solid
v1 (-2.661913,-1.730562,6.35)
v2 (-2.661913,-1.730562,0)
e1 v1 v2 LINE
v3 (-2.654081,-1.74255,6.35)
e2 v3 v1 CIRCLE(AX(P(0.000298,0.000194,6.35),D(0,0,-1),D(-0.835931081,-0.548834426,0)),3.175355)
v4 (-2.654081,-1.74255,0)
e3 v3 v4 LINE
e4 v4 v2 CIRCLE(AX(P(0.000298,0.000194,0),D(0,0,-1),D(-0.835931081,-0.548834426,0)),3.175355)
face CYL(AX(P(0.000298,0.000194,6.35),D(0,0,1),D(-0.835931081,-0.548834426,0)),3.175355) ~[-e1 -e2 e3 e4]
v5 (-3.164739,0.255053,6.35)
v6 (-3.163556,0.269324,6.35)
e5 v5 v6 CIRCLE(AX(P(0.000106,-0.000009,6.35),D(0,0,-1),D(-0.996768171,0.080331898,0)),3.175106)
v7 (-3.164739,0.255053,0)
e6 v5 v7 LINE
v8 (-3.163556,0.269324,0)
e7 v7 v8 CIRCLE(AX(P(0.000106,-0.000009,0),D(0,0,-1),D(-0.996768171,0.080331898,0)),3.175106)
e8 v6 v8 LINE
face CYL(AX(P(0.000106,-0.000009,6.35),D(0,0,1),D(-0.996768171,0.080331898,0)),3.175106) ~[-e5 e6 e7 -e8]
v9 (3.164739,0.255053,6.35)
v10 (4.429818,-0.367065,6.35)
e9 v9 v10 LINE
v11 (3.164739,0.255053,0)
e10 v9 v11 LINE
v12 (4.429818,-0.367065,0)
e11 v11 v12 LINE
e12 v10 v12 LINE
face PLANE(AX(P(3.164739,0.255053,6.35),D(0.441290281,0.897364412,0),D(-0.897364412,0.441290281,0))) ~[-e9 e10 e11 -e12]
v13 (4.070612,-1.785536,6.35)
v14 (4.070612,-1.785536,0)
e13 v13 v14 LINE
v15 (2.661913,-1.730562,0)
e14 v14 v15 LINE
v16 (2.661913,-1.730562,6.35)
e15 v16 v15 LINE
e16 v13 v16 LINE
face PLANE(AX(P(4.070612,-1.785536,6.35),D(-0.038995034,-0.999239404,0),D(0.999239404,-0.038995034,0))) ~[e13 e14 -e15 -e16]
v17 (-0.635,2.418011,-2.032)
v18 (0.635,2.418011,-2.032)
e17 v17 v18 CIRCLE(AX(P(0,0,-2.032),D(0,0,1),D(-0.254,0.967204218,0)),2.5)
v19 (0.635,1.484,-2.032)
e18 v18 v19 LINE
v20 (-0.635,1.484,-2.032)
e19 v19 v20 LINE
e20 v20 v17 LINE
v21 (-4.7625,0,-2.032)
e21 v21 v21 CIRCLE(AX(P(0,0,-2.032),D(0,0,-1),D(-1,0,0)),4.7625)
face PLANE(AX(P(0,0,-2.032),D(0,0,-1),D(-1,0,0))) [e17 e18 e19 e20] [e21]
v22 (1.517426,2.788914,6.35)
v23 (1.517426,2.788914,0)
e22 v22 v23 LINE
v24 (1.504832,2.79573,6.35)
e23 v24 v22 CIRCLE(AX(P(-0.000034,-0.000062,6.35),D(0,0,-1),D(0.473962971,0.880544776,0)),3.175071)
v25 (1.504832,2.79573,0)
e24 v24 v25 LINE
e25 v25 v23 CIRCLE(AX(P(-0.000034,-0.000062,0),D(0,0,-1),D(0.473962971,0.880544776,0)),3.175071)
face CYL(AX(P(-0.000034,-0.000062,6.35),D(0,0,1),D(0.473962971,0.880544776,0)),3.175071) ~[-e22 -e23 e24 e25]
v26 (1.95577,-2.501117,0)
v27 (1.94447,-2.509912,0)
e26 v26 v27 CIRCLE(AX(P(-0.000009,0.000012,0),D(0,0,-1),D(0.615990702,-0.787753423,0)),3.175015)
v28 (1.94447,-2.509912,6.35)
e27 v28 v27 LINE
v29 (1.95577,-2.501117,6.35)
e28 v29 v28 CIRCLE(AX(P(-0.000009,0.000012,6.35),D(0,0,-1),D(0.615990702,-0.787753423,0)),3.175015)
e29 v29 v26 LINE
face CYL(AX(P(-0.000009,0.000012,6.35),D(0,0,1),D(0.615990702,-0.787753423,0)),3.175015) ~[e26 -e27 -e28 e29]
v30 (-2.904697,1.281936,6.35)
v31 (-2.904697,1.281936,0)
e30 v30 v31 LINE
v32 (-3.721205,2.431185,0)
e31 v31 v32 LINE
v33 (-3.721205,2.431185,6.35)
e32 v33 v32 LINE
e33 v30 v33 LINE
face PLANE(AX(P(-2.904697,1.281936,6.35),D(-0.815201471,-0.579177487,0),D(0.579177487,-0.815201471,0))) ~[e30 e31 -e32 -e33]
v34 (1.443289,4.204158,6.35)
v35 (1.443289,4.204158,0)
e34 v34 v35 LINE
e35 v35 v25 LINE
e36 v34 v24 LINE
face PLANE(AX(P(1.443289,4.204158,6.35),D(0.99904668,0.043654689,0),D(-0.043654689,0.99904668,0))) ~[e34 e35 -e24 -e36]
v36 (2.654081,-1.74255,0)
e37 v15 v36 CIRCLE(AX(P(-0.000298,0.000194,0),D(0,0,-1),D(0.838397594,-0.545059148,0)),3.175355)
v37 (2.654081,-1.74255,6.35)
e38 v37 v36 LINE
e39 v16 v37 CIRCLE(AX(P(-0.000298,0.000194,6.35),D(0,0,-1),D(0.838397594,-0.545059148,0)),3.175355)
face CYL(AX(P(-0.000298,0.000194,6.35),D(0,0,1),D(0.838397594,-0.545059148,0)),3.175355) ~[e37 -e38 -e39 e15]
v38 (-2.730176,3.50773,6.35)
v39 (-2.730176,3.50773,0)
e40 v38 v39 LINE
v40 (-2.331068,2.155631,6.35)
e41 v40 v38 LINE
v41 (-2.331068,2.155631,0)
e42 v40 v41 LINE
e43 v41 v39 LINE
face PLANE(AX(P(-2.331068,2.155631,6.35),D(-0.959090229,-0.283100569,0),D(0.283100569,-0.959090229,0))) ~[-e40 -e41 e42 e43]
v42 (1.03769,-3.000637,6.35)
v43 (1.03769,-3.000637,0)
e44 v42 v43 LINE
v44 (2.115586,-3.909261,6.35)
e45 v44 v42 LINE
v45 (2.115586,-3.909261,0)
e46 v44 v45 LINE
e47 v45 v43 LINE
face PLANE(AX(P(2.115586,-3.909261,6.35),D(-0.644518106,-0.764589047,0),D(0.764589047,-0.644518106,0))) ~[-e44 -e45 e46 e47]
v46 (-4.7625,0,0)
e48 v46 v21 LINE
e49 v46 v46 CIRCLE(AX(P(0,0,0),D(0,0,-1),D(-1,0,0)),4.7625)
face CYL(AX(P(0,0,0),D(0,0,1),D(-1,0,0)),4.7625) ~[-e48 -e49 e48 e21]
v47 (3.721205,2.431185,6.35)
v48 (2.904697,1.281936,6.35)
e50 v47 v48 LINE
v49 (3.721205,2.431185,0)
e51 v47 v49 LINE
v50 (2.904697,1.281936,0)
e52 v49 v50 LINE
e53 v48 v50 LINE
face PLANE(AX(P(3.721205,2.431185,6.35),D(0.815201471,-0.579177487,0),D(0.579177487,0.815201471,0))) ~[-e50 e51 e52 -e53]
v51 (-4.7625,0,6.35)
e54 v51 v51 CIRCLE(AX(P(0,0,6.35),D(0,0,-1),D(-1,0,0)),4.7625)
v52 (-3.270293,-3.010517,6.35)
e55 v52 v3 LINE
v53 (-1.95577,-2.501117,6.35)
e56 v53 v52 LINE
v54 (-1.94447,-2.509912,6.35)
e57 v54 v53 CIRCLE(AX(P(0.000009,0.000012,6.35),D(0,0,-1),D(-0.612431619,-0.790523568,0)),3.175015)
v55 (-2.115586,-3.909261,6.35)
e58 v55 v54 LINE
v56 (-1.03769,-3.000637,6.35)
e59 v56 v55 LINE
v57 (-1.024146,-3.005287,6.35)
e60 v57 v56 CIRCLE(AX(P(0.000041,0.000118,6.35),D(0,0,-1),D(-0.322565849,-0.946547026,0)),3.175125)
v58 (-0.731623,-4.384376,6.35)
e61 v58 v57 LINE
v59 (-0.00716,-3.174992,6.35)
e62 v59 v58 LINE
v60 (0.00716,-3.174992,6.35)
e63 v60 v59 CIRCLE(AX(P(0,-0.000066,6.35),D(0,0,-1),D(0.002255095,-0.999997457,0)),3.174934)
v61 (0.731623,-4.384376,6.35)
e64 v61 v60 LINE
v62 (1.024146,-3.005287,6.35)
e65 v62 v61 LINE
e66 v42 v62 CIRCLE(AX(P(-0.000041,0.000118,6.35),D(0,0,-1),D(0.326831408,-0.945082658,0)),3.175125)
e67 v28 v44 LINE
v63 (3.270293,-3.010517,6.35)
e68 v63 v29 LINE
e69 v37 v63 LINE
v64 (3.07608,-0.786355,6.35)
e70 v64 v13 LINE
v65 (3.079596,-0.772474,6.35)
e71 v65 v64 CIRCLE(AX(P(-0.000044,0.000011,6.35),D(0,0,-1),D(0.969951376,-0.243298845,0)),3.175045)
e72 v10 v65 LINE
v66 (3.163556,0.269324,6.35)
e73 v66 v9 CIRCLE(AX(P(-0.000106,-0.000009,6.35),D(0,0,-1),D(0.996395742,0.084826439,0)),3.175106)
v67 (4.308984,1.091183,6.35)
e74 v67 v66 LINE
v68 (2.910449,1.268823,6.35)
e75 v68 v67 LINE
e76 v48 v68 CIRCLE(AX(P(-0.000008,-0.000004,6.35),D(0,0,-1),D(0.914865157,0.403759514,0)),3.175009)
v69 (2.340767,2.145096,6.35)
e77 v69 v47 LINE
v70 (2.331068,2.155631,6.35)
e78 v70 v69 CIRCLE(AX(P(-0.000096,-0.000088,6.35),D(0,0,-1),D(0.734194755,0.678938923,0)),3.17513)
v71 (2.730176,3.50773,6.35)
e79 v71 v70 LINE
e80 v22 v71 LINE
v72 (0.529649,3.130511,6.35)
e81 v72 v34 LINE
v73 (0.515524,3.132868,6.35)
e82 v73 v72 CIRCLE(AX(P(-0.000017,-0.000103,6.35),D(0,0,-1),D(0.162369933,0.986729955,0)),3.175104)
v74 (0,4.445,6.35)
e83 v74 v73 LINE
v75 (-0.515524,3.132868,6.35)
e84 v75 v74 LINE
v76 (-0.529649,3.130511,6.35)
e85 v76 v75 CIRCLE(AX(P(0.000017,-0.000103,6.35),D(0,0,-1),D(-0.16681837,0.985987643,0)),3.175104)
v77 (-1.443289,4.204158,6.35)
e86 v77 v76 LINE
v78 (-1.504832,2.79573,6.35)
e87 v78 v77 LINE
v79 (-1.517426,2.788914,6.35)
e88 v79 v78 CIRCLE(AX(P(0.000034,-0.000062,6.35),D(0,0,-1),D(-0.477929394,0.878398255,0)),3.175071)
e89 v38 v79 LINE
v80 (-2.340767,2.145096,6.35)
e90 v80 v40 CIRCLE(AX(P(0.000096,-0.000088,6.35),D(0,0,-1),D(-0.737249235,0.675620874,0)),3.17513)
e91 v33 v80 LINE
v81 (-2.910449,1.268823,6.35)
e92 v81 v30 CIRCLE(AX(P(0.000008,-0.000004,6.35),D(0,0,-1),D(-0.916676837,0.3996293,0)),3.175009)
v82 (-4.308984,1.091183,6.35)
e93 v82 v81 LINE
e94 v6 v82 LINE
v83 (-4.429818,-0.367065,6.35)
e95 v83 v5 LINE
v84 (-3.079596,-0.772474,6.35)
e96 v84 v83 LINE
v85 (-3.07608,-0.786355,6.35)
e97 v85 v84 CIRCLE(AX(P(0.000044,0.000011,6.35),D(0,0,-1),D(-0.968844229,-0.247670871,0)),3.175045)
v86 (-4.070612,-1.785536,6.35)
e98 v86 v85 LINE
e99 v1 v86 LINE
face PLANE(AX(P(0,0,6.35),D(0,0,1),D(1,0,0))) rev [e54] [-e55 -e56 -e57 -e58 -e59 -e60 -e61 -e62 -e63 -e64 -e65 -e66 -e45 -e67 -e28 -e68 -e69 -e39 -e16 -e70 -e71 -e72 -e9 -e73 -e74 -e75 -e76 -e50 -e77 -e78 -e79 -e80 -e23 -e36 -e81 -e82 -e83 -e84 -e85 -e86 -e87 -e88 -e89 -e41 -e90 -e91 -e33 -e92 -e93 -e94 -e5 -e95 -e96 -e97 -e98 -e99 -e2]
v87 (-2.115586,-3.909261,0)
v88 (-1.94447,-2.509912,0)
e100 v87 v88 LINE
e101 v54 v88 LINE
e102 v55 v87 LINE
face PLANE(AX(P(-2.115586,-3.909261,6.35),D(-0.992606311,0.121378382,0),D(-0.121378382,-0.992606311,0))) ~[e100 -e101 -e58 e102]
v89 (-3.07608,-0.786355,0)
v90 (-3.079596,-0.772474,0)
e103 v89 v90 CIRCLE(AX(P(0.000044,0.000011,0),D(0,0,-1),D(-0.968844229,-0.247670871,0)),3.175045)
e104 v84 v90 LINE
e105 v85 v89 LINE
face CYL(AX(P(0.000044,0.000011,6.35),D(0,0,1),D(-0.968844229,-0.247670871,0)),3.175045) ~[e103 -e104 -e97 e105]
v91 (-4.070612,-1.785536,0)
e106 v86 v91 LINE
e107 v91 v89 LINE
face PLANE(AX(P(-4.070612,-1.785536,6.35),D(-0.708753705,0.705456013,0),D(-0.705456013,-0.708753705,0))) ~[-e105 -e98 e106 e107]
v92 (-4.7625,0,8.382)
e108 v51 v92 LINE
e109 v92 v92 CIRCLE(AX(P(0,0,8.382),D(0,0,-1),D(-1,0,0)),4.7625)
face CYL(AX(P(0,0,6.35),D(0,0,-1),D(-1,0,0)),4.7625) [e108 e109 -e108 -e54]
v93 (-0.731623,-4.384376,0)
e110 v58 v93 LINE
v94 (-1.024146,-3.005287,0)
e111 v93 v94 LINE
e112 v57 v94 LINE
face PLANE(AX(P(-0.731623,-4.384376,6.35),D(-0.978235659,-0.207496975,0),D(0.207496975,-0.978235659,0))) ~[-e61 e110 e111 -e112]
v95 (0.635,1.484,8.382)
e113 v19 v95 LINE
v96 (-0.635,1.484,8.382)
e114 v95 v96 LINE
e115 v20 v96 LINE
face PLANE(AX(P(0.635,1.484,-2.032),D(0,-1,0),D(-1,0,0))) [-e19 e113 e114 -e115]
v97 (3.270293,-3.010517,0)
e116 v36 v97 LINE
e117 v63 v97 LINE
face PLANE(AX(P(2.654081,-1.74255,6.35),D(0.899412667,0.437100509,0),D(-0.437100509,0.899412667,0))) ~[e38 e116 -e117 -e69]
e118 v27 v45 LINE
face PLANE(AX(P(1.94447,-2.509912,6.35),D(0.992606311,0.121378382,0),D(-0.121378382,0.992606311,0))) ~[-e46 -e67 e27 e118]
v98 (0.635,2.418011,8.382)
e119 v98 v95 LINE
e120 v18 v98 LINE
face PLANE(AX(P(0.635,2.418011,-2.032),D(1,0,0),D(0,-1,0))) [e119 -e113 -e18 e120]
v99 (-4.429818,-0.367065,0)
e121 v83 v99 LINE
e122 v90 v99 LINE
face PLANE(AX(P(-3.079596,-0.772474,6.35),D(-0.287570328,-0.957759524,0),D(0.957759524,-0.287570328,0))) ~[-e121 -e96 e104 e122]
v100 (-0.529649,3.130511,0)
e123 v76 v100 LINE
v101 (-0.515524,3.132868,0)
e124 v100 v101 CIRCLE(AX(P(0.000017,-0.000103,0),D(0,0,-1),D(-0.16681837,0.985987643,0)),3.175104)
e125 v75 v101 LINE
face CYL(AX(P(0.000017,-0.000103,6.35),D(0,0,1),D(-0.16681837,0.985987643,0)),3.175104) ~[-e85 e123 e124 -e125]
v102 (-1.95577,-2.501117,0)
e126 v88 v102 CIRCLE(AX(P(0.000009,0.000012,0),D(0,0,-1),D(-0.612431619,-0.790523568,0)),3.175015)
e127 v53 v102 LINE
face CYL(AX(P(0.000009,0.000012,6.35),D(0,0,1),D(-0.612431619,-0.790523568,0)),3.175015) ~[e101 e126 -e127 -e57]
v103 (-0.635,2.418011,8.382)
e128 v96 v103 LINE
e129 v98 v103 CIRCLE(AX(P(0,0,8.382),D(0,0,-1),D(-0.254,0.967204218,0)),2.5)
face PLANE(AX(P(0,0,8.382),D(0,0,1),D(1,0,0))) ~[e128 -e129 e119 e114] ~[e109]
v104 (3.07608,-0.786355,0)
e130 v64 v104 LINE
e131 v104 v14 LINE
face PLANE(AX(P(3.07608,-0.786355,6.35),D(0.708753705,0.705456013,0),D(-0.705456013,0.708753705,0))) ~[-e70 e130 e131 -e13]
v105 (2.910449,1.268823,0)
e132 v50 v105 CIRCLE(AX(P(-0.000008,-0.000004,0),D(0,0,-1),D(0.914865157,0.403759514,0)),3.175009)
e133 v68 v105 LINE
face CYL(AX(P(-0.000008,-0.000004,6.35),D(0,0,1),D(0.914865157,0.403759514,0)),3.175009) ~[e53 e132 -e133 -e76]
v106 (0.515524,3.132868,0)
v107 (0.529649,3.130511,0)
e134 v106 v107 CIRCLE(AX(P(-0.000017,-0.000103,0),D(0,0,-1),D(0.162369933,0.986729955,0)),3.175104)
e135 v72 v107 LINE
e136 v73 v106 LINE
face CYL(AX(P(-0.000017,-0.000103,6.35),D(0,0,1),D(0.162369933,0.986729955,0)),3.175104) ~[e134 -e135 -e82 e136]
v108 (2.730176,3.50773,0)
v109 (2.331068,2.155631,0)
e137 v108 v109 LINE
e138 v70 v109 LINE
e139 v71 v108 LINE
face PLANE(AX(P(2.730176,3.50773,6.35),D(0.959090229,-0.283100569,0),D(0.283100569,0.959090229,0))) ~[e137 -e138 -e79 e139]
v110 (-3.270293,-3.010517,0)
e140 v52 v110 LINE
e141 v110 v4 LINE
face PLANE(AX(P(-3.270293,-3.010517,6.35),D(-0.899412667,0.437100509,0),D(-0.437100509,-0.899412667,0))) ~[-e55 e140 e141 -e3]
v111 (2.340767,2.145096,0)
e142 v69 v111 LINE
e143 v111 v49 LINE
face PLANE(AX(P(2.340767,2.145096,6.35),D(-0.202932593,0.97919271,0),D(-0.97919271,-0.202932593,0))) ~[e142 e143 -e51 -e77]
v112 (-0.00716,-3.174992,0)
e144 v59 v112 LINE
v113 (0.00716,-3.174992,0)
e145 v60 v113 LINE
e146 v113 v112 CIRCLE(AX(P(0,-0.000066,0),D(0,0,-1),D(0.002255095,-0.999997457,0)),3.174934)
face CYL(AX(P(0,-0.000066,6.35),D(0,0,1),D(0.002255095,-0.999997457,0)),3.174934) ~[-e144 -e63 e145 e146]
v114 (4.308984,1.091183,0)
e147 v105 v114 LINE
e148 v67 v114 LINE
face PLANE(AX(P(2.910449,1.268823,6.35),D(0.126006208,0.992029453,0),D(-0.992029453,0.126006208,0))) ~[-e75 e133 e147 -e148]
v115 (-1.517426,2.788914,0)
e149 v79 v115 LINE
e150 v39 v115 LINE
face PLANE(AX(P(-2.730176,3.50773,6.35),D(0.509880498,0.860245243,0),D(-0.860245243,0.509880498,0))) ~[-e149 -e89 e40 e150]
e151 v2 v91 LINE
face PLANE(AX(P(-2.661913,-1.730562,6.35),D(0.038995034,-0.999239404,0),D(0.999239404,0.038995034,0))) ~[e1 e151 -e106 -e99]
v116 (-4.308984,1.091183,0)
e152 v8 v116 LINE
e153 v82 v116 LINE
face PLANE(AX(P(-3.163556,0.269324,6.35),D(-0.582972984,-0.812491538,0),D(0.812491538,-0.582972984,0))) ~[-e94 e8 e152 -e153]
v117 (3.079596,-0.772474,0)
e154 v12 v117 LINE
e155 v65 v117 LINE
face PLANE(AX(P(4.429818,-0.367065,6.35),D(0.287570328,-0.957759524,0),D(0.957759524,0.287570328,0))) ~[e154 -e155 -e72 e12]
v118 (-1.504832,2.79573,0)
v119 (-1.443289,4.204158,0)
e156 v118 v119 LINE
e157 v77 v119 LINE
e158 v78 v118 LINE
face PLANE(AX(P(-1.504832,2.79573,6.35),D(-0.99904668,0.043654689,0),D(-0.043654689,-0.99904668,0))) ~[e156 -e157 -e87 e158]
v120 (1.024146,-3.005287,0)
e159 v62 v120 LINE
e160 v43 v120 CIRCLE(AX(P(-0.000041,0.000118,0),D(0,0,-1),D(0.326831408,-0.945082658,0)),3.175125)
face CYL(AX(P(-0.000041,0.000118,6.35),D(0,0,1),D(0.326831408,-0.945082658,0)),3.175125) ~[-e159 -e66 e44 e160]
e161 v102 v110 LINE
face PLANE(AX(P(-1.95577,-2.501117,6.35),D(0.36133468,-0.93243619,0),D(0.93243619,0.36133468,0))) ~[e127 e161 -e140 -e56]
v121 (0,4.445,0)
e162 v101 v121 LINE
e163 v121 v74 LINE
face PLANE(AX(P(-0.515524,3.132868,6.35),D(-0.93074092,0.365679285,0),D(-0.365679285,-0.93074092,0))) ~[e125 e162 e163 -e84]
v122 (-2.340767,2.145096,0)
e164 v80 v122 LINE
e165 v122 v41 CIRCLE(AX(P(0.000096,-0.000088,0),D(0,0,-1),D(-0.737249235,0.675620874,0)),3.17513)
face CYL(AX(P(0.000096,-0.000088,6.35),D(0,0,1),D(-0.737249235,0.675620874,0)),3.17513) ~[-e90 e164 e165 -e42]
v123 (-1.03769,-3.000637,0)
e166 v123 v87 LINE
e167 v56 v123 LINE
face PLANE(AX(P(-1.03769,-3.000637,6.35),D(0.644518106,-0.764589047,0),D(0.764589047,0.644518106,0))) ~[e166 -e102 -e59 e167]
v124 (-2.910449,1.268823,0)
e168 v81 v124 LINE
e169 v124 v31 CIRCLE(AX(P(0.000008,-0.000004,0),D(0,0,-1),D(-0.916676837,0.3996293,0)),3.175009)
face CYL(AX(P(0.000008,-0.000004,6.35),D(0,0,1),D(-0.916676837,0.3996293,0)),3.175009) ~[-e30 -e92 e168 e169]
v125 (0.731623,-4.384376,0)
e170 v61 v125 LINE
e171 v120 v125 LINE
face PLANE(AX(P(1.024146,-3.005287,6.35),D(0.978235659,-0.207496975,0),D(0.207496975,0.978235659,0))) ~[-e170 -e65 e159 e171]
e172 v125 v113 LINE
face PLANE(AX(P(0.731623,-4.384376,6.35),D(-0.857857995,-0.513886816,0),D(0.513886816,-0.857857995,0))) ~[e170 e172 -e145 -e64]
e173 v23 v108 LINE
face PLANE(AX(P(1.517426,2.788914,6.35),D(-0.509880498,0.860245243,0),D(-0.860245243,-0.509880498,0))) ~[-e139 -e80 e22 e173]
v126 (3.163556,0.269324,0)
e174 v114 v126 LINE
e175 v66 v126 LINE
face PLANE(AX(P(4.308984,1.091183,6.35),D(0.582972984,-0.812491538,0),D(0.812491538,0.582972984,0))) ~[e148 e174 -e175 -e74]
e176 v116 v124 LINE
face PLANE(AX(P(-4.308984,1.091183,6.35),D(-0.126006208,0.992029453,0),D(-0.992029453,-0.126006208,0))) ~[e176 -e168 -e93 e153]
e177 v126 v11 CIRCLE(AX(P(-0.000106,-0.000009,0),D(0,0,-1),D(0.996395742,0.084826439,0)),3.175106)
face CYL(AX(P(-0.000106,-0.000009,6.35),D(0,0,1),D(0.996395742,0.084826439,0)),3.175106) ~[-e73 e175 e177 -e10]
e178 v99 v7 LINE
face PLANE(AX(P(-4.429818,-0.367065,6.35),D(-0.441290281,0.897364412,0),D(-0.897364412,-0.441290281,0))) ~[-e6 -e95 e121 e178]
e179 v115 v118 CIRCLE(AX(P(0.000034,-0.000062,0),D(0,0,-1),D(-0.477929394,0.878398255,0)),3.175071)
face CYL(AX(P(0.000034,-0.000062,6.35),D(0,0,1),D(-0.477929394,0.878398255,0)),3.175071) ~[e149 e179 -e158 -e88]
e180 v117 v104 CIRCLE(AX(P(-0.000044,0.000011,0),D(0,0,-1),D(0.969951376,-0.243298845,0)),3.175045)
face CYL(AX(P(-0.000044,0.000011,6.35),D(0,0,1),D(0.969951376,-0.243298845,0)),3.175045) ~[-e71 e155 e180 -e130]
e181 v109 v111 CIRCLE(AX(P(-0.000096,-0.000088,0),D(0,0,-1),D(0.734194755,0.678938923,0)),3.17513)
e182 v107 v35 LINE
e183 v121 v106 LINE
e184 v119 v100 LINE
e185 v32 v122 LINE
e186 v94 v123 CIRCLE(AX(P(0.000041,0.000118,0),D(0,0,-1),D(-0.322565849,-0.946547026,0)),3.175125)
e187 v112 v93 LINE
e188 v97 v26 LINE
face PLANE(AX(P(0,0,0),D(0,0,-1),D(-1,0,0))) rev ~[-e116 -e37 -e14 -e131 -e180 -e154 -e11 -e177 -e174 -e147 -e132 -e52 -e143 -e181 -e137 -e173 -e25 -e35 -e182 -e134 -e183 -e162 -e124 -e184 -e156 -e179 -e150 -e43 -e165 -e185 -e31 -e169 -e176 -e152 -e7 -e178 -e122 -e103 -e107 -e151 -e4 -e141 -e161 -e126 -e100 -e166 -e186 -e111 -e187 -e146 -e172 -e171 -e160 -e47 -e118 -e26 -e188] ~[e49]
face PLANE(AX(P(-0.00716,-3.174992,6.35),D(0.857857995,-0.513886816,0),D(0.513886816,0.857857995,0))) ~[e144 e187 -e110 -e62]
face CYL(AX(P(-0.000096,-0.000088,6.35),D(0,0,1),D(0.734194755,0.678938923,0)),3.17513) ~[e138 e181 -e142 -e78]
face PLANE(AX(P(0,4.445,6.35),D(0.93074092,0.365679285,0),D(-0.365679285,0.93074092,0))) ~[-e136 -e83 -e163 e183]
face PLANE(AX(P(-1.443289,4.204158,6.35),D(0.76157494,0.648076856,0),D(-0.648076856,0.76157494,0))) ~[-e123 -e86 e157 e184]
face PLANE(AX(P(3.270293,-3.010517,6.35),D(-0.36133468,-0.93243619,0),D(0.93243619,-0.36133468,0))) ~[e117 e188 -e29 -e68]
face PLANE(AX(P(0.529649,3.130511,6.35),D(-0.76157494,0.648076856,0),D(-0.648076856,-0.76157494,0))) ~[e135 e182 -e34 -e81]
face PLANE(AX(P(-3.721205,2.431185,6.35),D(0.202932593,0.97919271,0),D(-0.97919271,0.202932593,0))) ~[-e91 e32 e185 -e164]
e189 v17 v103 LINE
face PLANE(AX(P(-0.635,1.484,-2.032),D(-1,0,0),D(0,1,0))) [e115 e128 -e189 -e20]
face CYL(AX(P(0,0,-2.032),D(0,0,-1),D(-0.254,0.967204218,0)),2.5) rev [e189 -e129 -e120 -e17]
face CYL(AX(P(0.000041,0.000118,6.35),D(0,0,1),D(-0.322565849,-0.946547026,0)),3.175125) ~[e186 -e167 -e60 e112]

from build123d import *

# Parameters (mm, degrees)
BOSS_EXTRUDE1_DEPTH = 3.175
SKETCH2_R           = 4.7625
BOSS_EXTRUDE2_DEPTH = 2.032
CUT_EXTRUDE1_DEPTH  = 17.018


with BuildPart() as part:
    # Sketch1 → Boss-Extrude1 (new body)
    with BuildSketch(Plane.XY):
        with BuildLine():
            Line((0, 4.445), (0.515524368, 3.132867636))
            ThreePointArc((0.515524368, 3.132867636), (0.522587824, 3.131697138), (0.529648623, 3.130510715))
            Line((0.529648623, 3.130510715), (1.443289141, 4.204157639))
            Line((1.443289141, 4.204157639), (1.504832294, 2.795729738))
            ThreePointArc((1.504832294, 2.795729738), (1.511132973, 2.79232916), (1.517425967, 2.788914383))
            Line((1.517425967, 2.788914383), (2.730175508, 3.507729564))
            Line((2.730175508, 3.507729564), (2.331068291, 2.155631142))
            ThreePointArc((2.331068291, 2.155631142), (2.335923416, 2.15036899), (2.340766663, 2.145095903))
            Line((2.340766663, 2.145095903), (3.721204996, 2.431184563))
            Line((3.721204996, 2.431184563), (2.904696869, 1.281936464))
            ThreePointArc((2.904696869, 1.281936464), (2.907580312, 1.275382973), (2.910448969, 1.268822997))
            Line((2.910448969, 1.268822997), (4.308984182, 1.09118299))
            Line((4.308984182, 1.09118299), (3.16355647, 0.269324079))
            ThreePointArc((3.16355647, 0.269324079), (3.164155765, 0.262189422), (3.16473897, 0.255053432))
            Line((3.16473897, 0.255053432), (4.429818071, -0.367065191))
            Line((4.429818071, -0.367065191), (3.07959564, -0.772473749))
            ThreePointArc((3.07959564, -0.772473749), (3.077845844, -0.779416422), (3.076080397, -0.78635513))
            Line((3.076080397, -0.78635513), (4.070612437, -1.785536163))
            Line((4.070612437, -1.785536163), (2.661912838, -1.730562061))
            ThreePointArc((2.661912838, -1.730562061), (2.658003568, -1.736560402), (2.654080783, -1.742549913))
            Line((2.654080783, -1.742549913), (3.270292783, -3.010516586))
            Line((3.270292783, -3.010516586), (1.955770475, -2.50111712))
            ThreePointArc((1.955770475, -2.50111712), (1.950125363, -2.505521117), (1.944470334, -2.509912373))
            Line((1.944470334, -2.509912373), (2.115586162, -3.909260824))
            Line((2.115586162, -3.909260824), (1.037690035, -3.000637331))
            ThreePointArc((1.037690035, -3.000637331), (1.030920815, -3.002969742), (1.024146352, -3.005286883))
            Line((1.024146352, -3.005286883), (0.731622954, -4.384375994))
            Line((0.731622954, -4.384375994), (0.007159778, -3.174991927))
            ThreePointArc((0.007159778, -3.174991927), (0, -3.175), (-0.007159778, -3.174991927))
            Line((-0.007159778, -3.174991927), (-0.731622954, -4.384375994))
            Line((-0.731622954, -4.384375994), (-1.024146352, -3.005286883))
            ThreePointArc((-1.024146352, -3.005286883), (-1.030920815, -3.002969742), (-1.037690035, -3.000637331))
            Line((-1.037690035, -3.000637331), (-2.115586162, -3.909260824))
            Line((-2.115586162, -3.909260824), (-1.944470334, -2.509912373))
            ThreePointArc((-1.944470334, -2.509912373), (-1.950125363, -2.505521117), (-1.955770475, -2.50111712))
            Line((-1.955770475, -2.50111712), (-3.270292783, -3.010516586))
            Line((-3.270292783, -3.010516586), (-2.654080783, -1.742549913))
            ThreePointArc((-2.654080783, -1.742549913), (-2.658003568, -1.736560402), (-2.661912838, -1.730562061))
            Line((-2.661912838, -1.730562061), (-4.070612437, -1.785536163))
            Line((-4.070612437, -1.785536163), (-3.076080397, -0.78635513))
            ThreePointArc((-3.076080397, -0.78635513), (-3.077845844, -0.779416422), (-3.07959564, -0.772473749))
            Line((-3.07959564, -0.772473749), (-4.429818071, -0.367065191))
            Line((-4.429818071, -0.367065191), (-3.16473897, 0.255053432))
            ThreePointArc((-3.16473897, 0.255053432), (-3.164155765, 0.262189422), (-3.16355647, 0.269324079))
            Line((-3.16355647, 0.269324079), (-4.308984182, 1.09118299))
            Line((-4.308984182, 1.09118299), (-2.910448969, 1.268822997))
            ThreePointArc((-2.910448969, 1.268822997), (-2.907580312, 1.275382973), (-2.904696869, 1.281936464))
            Line((-2.904696869, 1.281936464), (-3.721204996, 2.431184563))
            Line((-3.721204996, 2.431184563), (-2.340766663, 2.145095903))
            ThreePointArc((-2.340766663, 2.145095903), (-2.335923416, 2.15036899), (-2.331068291, 2.155631142))
            Line((-2.331068291, 2.155631142), (-2.730175508, 3.507729564))
            Line((-2.730175508, 3.507729564), (-1.517425967, 2.788914383))
            ThreePointArc((-1.517425967, 2.788914383), (-1.511132973, 2.79232916), (-1.504832294, 2.795729738))
            Line((-1.504832294, 2.795729738), (-1.443289141, 4.204157639))
            Line((-1.443289141, 4.204157639), (-0.529648623, 3.130510715))
            ThreePointArc((-0.529648623, 3.130510715), (-0.522587824, 3.131697138), (-0.515524368, 3.132867636))
            Line((-0.515524368, 3.132867636), (0, 4.445))
        make_face()
    extrude(amount=BOSS_EXTRUDE1_DEPTH)

    # Sketch2 → Boss-Extrude2 (add)
    with BuildSketch(Plane(origin=(0, 0, 0), x_dir=(-1, 0, 0), z_dir=(0, 0, -1))):
        Circle(SKETCH2_R)
    extrude(amount=BOSS_EXTRUDE2_DEPTH)

    # Mirror1: part across plane


with BuildPart() as part_1:
    add(part.part)
    add(part.part.mirror(Plane.XY.offset(3.175)))

    # Sketch3 → Cut-Extrude1 (cut)
    with BuildSketch(Plane(origin=(0, 0, -2.032), x_dir=(-1, 0, 0), z_dir=(0, 0, -1))):
        with BuildLine():
            Line((-0.635, 2.418010546), (-0.635, 1.484))
            Line((-0.635, 1.484), (0.635, 1.484))
            Line((0.635, 1.484), (0.635, 2.418010546))
            ThreePointArc((0.635, 2.418010546), (0, -2.5), (-0.635, 2.418010546))
        make_face()
    extrude(amount=-CUT_EXTRUDE1_DEPTH, mode=Mode.SUBTRACT)


solid = part_1.part
